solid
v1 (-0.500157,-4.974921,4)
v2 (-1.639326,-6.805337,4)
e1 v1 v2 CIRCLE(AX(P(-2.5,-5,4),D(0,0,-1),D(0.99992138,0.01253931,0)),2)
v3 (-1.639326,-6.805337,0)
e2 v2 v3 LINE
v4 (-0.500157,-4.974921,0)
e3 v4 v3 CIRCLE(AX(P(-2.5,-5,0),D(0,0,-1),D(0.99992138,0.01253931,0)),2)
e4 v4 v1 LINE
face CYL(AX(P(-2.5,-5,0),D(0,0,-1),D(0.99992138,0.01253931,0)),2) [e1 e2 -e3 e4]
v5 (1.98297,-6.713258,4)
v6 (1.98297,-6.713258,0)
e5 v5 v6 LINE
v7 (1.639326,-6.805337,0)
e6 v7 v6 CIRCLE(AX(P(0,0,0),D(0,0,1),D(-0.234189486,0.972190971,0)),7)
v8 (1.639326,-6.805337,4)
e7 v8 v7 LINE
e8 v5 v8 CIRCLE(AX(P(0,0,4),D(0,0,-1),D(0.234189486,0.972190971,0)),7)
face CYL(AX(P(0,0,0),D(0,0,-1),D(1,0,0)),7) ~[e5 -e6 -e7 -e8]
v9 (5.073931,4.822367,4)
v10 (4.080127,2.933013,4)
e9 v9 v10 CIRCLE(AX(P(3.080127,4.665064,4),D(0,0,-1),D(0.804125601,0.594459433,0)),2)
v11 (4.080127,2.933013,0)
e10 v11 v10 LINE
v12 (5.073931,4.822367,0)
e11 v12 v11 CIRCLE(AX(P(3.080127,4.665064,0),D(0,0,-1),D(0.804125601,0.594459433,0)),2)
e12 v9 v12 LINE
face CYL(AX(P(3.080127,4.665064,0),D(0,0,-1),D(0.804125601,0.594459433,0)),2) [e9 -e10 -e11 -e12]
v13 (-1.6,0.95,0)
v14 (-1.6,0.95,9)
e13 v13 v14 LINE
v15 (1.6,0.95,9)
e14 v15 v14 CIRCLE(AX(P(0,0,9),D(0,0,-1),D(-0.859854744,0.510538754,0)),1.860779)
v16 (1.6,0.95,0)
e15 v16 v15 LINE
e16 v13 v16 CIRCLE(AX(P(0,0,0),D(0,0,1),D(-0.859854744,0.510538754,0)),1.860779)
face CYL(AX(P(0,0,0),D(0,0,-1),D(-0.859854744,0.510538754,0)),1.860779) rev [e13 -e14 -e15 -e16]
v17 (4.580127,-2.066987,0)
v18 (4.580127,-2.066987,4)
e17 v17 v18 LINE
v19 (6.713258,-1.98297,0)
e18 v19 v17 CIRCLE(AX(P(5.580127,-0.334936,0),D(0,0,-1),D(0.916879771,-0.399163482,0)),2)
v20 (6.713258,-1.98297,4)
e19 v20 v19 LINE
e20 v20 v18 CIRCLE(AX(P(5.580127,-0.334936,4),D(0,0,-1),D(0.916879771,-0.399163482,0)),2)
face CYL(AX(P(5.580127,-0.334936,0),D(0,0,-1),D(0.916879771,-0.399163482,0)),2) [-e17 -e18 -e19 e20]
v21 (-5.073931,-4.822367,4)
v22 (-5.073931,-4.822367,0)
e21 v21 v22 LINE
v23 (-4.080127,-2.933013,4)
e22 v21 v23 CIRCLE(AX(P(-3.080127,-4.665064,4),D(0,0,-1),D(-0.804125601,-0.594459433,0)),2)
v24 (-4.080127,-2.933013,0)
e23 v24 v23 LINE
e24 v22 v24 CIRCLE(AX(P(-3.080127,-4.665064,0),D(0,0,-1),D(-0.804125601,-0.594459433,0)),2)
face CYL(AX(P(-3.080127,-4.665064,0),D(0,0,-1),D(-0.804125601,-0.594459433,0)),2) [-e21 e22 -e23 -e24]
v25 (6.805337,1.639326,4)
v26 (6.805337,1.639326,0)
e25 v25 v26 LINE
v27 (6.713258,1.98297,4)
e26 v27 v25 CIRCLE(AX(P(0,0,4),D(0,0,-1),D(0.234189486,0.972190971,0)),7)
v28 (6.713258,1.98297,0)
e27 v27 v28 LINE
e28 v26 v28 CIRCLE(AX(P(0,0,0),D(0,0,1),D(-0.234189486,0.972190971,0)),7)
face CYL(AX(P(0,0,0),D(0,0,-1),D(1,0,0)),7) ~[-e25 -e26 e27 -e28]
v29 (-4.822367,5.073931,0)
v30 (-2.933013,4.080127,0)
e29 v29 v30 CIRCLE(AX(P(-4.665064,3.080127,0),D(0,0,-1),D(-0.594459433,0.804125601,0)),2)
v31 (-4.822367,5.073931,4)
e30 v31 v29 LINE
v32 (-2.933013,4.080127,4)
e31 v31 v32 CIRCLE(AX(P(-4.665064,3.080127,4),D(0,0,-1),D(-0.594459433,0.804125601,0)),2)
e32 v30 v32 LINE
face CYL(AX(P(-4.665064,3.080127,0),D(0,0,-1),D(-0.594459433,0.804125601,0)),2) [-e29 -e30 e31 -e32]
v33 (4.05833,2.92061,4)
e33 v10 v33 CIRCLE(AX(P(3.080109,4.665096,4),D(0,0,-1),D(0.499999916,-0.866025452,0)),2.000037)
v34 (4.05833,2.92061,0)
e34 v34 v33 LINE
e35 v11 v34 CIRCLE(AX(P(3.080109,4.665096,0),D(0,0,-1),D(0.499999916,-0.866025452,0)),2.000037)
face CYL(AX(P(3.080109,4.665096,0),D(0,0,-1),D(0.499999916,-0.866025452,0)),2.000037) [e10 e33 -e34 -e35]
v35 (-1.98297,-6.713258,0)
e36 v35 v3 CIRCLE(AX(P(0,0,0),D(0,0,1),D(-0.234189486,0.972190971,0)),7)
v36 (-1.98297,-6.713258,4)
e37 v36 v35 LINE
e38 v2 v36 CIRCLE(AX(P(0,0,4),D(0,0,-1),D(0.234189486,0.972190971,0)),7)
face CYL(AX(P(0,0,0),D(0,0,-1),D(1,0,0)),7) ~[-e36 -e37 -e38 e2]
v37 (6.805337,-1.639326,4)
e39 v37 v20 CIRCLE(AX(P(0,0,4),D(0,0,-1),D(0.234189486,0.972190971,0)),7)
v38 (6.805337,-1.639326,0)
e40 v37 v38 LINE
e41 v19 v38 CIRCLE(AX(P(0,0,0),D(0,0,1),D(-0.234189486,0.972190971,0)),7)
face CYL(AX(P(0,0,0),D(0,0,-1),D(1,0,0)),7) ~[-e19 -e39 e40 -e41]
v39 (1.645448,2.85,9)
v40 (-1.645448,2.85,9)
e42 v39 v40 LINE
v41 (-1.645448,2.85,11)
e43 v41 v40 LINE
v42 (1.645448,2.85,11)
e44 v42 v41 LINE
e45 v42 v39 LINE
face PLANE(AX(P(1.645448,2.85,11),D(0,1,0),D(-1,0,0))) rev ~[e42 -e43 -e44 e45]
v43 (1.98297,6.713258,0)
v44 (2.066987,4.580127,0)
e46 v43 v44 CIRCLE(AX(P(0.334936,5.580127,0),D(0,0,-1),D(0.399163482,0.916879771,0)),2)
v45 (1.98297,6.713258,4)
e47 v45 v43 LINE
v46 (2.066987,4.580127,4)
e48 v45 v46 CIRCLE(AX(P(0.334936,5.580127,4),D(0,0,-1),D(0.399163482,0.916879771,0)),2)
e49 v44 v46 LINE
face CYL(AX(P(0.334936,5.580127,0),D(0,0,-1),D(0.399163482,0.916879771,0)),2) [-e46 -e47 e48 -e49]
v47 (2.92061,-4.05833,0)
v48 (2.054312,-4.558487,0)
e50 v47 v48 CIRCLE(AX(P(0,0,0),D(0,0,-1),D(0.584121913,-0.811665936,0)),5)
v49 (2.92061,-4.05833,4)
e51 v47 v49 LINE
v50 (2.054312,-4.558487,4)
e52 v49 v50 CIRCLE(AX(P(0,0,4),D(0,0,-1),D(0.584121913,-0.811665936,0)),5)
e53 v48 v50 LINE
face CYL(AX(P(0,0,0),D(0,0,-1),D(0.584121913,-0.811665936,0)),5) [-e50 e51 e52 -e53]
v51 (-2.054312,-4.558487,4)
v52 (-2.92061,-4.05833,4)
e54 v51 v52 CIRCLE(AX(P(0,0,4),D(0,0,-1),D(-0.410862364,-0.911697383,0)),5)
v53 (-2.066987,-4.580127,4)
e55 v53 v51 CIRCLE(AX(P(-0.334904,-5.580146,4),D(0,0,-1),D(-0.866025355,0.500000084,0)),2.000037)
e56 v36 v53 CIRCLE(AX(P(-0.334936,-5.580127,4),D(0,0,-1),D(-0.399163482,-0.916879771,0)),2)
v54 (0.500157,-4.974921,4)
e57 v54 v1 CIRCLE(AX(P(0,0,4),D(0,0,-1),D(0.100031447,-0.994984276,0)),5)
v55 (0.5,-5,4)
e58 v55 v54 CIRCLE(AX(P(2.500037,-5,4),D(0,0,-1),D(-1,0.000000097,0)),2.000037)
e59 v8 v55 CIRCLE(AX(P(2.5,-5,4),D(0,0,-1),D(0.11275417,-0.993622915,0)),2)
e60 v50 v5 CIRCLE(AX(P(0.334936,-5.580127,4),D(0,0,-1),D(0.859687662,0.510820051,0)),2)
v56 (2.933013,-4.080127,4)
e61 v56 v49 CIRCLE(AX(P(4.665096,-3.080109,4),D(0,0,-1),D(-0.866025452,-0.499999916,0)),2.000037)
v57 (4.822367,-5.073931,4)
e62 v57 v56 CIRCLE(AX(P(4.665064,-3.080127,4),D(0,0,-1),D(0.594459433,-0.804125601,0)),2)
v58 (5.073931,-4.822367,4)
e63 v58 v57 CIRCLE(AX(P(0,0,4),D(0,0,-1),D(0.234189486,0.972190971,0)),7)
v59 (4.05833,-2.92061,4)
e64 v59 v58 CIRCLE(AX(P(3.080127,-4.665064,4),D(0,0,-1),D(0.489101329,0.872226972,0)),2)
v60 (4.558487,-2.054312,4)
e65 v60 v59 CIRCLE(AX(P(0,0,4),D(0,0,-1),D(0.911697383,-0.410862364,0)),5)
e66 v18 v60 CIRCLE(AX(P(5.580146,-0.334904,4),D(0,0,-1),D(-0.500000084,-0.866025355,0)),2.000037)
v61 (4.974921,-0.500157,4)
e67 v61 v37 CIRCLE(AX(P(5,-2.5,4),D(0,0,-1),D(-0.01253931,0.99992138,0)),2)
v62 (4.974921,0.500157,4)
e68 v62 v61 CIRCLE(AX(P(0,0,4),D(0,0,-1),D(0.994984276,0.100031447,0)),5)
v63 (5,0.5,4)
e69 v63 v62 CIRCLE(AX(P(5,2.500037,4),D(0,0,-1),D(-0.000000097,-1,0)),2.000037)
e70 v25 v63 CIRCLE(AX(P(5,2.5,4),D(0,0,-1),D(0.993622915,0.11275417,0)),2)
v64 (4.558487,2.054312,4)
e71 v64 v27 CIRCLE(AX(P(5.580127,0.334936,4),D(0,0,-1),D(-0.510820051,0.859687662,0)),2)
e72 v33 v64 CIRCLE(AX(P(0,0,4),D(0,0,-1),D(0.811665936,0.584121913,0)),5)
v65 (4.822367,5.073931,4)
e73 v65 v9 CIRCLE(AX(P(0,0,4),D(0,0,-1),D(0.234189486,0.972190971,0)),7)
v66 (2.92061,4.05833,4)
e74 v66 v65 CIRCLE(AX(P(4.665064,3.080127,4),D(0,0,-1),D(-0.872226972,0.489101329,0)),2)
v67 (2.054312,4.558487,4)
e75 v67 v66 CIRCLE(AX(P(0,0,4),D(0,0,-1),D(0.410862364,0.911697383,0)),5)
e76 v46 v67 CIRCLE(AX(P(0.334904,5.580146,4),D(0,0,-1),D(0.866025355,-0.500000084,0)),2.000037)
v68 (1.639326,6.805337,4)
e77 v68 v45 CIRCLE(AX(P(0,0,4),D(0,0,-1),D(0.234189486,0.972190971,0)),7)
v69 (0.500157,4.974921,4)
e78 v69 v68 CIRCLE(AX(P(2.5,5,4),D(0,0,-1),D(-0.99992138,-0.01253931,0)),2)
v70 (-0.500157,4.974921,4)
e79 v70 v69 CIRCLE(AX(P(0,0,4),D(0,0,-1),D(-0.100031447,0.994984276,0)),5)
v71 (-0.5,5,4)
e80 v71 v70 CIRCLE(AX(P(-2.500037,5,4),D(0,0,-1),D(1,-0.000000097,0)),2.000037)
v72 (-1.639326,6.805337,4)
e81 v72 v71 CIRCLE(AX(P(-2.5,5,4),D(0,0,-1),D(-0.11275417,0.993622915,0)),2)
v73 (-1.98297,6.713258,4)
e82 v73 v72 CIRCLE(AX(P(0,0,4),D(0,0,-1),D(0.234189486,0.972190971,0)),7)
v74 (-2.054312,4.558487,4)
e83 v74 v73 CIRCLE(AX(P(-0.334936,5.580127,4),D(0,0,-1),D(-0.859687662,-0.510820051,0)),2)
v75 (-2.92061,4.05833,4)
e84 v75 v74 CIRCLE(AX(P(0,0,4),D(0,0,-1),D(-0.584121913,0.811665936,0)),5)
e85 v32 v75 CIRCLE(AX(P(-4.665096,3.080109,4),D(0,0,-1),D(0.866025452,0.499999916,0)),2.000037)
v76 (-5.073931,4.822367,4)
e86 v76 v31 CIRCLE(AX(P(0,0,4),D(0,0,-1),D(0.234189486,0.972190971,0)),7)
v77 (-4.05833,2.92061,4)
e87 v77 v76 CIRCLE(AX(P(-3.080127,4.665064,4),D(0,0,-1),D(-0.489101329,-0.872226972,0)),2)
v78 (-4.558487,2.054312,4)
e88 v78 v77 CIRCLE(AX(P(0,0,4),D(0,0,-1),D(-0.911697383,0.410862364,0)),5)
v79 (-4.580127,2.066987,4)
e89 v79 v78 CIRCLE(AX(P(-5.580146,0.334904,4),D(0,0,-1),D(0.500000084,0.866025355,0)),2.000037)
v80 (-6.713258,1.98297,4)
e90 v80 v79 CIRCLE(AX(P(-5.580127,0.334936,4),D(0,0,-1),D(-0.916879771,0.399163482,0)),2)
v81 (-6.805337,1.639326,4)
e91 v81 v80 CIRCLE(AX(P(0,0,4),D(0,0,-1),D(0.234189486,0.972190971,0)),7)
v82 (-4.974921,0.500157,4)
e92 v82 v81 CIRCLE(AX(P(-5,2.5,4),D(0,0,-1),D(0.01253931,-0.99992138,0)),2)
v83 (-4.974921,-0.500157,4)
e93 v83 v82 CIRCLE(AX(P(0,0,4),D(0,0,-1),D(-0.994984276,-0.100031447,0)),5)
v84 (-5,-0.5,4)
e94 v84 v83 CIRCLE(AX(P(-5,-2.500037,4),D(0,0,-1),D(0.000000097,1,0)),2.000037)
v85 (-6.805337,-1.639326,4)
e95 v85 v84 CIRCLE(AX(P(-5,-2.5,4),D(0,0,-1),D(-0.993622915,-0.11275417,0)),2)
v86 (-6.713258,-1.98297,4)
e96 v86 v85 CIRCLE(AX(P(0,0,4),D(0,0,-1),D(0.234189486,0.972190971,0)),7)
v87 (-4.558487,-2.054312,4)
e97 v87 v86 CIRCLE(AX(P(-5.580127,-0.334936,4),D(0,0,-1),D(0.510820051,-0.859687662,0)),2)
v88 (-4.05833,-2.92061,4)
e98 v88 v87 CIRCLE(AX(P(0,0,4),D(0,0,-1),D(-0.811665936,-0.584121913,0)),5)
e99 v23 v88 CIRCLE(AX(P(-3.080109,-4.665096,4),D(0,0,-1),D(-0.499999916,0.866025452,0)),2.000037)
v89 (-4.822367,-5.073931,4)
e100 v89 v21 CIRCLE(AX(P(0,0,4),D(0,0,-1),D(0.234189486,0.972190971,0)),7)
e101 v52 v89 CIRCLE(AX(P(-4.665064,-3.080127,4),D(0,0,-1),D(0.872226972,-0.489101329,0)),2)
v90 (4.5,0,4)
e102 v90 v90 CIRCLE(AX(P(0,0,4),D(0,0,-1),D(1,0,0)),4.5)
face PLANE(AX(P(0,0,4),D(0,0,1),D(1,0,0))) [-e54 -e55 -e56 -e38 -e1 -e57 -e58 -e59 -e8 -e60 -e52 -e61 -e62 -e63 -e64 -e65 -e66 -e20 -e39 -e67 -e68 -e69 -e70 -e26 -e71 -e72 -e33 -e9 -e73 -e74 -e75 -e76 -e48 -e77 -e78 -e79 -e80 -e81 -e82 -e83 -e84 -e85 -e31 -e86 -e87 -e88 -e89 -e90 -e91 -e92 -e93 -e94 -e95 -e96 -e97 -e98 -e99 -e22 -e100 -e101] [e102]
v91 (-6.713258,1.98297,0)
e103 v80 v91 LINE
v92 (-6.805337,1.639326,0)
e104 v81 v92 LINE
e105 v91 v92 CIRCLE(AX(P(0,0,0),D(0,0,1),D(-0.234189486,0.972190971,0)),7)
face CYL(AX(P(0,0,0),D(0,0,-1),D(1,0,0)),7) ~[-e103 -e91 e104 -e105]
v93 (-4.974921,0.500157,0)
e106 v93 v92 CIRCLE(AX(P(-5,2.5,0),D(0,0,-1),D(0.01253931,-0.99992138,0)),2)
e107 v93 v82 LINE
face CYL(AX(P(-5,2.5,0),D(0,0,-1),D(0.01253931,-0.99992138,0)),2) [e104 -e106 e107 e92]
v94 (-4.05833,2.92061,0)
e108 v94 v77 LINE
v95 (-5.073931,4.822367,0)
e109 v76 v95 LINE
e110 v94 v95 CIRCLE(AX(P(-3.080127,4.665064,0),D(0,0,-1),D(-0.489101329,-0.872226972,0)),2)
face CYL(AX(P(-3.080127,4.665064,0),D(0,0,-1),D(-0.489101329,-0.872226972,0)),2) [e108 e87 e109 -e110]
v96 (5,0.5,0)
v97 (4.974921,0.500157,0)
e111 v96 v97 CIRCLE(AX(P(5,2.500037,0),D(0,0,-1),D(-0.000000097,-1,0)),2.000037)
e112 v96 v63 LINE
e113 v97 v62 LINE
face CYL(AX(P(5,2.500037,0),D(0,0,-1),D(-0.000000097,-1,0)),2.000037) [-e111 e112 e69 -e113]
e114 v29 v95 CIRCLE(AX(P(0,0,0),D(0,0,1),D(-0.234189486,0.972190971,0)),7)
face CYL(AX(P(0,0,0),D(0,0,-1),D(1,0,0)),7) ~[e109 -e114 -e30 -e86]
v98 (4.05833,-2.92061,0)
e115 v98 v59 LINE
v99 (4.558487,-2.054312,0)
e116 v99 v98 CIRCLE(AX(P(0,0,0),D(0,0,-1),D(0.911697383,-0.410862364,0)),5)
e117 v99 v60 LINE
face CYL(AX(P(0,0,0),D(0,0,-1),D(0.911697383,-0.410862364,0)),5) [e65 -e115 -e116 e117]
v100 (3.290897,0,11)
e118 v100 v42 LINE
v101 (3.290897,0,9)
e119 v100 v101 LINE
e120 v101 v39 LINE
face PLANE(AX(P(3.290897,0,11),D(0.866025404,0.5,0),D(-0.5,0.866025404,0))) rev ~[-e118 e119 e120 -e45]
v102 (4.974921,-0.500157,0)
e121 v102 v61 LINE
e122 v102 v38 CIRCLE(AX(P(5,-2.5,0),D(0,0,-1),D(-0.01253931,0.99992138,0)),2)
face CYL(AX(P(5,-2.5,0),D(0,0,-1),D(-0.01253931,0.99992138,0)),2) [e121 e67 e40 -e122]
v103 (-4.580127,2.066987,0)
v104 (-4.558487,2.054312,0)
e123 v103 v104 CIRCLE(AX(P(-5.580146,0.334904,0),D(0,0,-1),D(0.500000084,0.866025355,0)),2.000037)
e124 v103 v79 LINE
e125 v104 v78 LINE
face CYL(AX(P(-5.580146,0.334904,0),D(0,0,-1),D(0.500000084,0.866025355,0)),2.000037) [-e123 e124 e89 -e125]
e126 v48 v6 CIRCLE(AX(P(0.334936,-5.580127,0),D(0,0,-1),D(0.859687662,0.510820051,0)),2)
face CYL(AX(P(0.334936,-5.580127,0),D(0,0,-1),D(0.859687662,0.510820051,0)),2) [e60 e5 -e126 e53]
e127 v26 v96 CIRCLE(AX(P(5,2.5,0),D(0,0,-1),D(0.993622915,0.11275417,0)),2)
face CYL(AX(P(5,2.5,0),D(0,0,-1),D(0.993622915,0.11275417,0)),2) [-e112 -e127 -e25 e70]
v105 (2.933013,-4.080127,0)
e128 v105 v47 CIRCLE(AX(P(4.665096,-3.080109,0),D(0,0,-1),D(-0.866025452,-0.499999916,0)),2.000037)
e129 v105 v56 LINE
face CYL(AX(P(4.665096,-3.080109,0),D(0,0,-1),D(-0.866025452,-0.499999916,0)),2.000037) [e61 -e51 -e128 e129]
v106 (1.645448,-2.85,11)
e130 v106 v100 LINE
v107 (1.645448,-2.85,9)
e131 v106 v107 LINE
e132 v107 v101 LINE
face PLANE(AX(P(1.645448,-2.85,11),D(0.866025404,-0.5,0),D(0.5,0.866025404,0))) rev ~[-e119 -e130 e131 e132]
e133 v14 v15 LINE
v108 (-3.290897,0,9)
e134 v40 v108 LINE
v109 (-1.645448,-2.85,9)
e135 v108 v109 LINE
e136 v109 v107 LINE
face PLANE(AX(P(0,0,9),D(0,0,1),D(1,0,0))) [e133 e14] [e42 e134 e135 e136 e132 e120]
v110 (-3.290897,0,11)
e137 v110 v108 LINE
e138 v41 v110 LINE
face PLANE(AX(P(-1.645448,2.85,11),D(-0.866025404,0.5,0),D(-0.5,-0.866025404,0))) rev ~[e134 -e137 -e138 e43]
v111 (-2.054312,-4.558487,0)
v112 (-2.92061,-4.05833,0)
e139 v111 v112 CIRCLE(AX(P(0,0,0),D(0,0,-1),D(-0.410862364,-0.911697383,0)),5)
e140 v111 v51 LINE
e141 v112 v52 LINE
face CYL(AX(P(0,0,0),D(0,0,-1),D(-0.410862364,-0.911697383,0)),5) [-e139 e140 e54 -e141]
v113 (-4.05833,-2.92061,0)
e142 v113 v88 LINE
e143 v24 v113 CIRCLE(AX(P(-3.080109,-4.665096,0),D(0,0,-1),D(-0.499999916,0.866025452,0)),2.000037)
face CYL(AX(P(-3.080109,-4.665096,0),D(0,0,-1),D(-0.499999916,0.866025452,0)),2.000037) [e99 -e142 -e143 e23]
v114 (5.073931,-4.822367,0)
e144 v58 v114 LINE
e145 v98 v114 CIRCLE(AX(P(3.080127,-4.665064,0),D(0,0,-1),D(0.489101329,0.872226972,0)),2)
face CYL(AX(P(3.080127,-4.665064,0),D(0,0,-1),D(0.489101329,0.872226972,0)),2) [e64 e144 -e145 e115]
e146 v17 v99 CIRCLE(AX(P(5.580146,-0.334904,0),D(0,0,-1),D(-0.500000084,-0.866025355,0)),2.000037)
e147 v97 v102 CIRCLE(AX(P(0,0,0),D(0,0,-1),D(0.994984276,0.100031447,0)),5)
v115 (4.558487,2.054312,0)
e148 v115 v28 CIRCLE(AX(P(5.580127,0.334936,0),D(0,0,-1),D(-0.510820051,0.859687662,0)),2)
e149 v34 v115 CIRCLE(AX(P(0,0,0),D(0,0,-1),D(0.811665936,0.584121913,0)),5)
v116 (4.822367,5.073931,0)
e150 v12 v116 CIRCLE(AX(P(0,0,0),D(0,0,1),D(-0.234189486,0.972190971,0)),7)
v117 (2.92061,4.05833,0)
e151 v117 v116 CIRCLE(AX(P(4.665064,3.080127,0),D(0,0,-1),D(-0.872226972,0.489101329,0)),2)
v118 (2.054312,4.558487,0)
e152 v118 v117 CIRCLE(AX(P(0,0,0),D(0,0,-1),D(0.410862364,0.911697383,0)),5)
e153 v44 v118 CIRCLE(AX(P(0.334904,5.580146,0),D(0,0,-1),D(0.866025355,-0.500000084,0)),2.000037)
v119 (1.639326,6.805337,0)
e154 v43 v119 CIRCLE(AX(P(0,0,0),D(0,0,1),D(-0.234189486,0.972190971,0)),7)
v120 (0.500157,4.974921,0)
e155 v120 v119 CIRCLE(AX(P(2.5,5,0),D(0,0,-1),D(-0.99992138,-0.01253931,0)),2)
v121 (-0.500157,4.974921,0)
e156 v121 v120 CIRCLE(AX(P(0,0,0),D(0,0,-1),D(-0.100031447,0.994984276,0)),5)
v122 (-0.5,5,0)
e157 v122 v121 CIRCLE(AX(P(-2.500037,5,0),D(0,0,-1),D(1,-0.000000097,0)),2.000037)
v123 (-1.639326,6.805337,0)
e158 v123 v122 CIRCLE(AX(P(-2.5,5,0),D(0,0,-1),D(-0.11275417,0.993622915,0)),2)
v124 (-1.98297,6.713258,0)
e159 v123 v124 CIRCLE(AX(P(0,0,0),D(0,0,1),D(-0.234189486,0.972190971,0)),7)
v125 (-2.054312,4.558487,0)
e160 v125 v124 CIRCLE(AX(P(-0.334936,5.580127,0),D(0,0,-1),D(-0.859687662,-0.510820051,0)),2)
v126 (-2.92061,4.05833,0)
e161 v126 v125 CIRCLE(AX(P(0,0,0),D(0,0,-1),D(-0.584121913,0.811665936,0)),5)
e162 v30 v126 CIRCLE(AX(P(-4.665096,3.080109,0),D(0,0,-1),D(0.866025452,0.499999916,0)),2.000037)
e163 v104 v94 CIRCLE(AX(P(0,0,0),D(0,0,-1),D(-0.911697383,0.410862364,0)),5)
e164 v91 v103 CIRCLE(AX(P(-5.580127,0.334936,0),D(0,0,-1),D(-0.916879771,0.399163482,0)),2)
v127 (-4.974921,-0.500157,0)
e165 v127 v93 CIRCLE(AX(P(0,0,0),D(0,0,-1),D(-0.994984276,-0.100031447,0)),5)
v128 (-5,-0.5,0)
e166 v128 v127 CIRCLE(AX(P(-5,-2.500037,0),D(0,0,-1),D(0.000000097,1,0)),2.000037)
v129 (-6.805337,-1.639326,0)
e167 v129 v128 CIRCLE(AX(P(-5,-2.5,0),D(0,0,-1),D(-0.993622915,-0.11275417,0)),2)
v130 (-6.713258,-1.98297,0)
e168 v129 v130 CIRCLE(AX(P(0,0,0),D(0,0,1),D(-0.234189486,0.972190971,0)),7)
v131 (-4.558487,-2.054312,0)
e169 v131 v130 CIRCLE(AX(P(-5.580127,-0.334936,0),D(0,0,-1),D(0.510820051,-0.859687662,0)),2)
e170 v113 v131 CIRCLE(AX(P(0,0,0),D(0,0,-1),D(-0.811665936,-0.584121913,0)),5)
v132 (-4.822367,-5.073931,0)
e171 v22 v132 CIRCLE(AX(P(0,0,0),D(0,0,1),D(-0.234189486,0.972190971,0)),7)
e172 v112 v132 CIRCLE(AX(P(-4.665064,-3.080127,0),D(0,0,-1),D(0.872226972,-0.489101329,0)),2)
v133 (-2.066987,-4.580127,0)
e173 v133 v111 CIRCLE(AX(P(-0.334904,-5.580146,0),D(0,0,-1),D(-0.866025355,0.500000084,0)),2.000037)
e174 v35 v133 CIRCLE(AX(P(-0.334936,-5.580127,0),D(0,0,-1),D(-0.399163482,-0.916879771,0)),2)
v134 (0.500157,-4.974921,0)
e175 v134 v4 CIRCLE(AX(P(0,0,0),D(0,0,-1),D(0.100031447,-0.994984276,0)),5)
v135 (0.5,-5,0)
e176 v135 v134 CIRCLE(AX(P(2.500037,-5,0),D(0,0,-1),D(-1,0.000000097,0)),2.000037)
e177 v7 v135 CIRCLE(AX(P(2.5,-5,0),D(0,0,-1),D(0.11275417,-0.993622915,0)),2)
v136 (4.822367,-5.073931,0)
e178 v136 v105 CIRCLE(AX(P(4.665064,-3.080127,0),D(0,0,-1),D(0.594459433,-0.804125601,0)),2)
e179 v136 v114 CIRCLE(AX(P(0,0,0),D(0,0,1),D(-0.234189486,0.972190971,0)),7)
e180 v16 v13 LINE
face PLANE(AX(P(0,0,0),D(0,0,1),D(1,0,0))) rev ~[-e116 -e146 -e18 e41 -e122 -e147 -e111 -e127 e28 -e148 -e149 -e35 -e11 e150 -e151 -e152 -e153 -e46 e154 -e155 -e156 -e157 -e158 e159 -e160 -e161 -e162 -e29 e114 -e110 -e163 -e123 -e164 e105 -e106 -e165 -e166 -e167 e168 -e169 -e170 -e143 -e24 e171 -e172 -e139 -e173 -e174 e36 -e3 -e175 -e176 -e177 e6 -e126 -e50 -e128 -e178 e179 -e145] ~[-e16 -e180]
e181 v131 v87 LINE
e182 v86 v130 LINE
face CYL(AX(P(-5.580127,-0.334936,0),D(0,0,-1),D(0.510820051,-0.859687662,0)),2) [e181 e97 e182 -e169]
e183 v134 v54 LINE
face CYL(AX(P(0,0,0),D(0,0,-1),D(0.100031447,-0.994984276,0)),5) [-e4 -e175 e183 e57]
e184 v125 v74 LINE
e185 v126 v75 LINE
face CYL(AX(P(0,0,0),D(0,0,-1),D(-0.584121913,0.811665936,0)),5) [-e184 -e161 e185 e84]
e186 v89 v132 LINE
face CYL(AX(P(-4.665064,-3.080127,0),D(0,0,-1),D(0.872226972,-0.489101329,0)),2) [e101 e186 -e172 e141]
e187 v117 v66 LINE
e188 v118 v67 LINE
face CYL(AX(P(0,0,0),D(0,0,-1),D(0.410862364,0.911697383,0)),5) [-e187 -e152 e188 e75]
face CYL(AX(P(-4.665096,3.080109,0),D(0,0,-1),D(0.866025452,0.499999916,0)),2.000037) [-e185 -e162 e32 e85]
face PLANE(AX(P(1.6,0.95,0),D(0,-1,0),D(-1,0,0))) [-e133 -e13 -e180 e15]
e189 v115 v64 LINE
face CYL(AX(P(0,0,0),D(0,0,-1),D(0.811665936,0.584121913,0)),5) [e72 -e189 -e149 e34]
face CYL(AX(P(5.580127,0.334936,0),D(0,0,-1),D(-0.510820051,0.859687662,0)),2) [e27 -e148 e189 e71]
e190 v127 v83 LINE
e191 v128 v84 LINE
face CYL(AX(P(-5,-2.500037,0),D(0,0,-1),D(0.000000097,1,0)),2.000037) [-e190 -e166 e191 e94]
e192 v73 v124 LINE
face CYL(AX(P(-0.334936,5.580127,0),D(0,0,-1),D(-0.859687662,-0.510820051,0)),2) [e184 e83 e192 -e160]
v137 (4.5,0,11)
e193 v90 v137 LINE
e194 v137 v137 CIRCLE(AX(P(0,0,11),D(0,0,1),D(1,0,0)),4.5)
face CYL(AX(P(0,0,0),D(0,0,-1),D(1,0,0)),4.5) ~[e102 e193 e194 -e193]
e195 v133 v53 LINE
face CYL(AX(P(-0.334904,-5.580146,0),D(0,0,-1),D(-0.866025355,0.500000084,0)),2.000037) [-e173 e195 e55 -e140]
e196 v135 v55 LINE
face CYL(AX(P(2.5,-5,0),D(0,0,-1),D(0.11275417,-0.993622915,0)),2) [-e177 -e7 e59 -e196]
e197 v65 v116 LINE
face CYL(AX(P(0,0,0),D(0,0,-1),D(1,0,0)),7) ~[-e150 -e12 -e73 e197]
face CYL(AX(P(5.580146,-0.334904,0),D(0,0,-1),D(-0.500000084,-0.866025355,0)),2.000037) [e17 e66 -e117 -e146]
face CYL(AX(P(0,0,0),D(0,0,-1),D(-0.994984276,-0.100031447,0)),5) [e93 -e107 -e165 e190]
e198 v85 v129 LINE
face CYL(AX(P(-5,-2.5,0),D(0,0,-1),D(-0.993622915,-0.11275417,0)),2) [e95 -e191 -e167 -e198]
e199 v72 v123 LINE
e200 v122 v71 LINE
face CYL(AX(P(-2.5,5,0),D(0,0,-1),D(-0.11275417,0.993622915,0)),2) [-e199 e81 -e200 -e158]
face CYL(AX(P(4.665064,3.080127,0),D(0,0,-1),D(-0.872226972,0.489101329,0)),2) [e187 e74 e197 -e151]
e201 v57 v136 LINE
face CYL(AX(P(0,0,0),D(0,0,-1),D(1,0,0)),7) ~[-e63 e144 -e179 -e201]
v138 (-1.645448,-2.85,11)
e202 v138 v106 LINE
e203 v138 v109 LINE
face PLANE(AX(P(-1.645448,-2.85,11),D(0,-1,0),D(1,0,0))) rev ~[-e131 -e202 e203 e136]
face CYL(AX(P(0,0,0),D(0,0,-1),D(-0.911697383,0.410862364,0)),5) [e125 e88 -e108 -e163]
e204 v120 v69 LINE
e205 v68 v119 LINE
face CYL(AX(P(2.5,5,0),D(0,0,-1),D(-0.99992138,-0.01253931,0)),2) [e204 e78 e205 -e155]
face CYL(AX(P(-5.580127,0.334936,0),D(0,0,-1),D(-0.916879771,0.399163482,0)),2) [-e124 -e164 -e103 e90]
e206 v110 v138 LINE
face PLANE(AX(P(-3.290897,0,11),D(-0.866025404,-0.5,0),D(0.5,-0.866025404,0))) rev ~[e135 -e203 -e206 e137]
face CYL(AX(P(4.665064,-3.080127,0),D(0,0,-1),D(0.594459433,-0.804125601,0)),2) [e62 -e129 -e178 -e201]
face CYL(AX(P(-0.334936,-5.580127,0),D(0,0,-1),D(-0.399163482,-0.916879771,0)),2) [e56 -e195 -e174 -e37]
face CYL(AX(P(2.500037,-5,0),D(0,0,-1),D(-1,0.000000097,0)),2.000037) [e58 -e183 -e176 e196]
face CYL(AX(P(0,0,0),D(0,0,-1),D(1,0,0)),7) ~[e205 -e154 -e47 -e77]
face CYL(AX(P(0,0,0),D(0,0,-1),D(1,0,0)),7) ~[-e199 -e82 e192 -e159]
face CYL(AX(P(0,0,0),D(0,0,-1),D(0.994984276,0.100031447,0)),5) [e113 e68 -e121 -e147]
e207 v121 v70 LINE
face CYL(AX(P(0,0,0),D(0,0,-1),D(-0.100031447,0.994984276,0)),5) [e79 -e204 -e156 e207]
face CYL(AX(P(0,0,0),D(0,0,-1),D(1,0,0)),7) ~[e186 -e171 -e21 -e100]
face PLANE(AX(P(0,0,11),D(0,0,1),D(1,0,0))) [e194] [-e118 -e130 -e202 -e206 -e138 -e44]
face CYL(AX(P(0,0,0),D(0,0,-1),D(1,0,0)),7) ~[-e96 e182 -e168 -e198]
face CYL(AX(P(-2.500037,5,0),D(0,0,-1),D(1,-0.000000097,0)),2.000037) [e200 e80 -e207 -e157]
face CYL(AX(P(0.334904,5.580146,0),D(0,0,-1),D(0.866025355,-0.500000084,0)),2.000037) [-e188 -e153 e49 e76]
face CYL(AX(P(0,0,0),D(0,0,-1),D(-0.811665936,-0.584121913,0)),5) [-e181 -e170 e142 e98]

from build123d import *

# Parameters (mm, degrees)
SKETCH1_R           = 7
SKETCH1_R_2         = 1
BOSS_EXTRUDE1_DEPTH = 4
CUT_EXTRUDE2_DEPTH  = 11.677078252
CIRPATTERN2_COUNT   = 12
SKETCH11_R          = 4.5
BOSS_EXTRUDE2_DEPTH = 11
CUT_EXTRUDE3_START  = 11
CUT_EXTRUDE3_DEPTH  = 2
CUT_EXTRUDE4_DEPTH  = 15.615923436


with BuildPart() as part:
    # Sketch1 → Boss-Extrude1 (new body)
    with BuildSketch(Plane.XY):
        Circle(SKETCH1_R)
        Circle(SKETCH1_R_2, mode=Mode.SUBTRACT)
    extrude(amount=BOSS_EXTRUDE1_DEPTH)

    # Sketch4 → Cut-Extrude2 (cut, through all)
    with BuildSketch(Plane.XY):
        with BuildLine():
            ThreePointArc((-0.50015724, 4.97492138), (0, 5), (0.50015724, 4.97492138))
            ThreePointArc((0.50015724, 4.97492138), (1.158572372, 6.483432479), (2.72550834, 6.98724583))
            ThreePointArc((2.72550834, 6.98724583), (0, 7.5), (-2.72550834, 6.98724583))
            ThreePointArc((-2.72550834, 6.98724583), (-1.167899531, 6.491813775), (-0.5, 5))
            ThreePointArc((-0.5, 5), (-0.500039311, 4.987460443), (-0.50015724, 4.97492138))
        make_face()
    cut_extrude2 = extrude(amount=CUT_EXTRUDE2_DEPTH, mode=Mode.SUBTRACT)

    # CirPattern2: Cut-Extrude2 ×12 about axis
    cirpattern2_axis = Axis((0, 0, 4), (0, 0, -1))
    for i in range(1, CIRPATTERN2_COUNT):
        add(cut_extrude2.rotate(cirpattern2_axis, i * 360 / CIRPATTERN2_COUNT), mode=Mode.SUBTRACT)

    # Sketch11 → Boss-Extrude2 (add)
    with BuildSketch(Plane.XY):
        Circle(SKETCH11_R)
    extrude(amount=BOSS_EXTRUDE2_DEPTH)

    # Sketch12 → Cut-Extrude3 (cut)
    with BuildSketch(Plane.XY.offset(CUT_EXTRUDE3_START)):
        Polygon((3.290896534, 0), (1.645448267, 2.85), (-1.645448267, 2.85), (-3.290896534, 0), (-1.645448267, -2.85), (1.645448267, -2.85), align=None)
    extrude(amount=-CUT_EXTRUDE3_DEPTH, mode=Mode.SUBTRACT)

    # Sketch13 → Cut-Extrude4 (cut, through all)
    with BuildSketch(Plane.XY):
        with BuildLine():
            ThreePointArc((-1.6, 0.95), (0, -1.860779407), (1.6, 0.95))
            Line((1.6, 0.95), (-1.6, 0.95))
        make_face()
    extrude(amount=CUT_EXTRUDE4_DEPTH, mode=Mode.SUBTRACT)


solid = part.part
